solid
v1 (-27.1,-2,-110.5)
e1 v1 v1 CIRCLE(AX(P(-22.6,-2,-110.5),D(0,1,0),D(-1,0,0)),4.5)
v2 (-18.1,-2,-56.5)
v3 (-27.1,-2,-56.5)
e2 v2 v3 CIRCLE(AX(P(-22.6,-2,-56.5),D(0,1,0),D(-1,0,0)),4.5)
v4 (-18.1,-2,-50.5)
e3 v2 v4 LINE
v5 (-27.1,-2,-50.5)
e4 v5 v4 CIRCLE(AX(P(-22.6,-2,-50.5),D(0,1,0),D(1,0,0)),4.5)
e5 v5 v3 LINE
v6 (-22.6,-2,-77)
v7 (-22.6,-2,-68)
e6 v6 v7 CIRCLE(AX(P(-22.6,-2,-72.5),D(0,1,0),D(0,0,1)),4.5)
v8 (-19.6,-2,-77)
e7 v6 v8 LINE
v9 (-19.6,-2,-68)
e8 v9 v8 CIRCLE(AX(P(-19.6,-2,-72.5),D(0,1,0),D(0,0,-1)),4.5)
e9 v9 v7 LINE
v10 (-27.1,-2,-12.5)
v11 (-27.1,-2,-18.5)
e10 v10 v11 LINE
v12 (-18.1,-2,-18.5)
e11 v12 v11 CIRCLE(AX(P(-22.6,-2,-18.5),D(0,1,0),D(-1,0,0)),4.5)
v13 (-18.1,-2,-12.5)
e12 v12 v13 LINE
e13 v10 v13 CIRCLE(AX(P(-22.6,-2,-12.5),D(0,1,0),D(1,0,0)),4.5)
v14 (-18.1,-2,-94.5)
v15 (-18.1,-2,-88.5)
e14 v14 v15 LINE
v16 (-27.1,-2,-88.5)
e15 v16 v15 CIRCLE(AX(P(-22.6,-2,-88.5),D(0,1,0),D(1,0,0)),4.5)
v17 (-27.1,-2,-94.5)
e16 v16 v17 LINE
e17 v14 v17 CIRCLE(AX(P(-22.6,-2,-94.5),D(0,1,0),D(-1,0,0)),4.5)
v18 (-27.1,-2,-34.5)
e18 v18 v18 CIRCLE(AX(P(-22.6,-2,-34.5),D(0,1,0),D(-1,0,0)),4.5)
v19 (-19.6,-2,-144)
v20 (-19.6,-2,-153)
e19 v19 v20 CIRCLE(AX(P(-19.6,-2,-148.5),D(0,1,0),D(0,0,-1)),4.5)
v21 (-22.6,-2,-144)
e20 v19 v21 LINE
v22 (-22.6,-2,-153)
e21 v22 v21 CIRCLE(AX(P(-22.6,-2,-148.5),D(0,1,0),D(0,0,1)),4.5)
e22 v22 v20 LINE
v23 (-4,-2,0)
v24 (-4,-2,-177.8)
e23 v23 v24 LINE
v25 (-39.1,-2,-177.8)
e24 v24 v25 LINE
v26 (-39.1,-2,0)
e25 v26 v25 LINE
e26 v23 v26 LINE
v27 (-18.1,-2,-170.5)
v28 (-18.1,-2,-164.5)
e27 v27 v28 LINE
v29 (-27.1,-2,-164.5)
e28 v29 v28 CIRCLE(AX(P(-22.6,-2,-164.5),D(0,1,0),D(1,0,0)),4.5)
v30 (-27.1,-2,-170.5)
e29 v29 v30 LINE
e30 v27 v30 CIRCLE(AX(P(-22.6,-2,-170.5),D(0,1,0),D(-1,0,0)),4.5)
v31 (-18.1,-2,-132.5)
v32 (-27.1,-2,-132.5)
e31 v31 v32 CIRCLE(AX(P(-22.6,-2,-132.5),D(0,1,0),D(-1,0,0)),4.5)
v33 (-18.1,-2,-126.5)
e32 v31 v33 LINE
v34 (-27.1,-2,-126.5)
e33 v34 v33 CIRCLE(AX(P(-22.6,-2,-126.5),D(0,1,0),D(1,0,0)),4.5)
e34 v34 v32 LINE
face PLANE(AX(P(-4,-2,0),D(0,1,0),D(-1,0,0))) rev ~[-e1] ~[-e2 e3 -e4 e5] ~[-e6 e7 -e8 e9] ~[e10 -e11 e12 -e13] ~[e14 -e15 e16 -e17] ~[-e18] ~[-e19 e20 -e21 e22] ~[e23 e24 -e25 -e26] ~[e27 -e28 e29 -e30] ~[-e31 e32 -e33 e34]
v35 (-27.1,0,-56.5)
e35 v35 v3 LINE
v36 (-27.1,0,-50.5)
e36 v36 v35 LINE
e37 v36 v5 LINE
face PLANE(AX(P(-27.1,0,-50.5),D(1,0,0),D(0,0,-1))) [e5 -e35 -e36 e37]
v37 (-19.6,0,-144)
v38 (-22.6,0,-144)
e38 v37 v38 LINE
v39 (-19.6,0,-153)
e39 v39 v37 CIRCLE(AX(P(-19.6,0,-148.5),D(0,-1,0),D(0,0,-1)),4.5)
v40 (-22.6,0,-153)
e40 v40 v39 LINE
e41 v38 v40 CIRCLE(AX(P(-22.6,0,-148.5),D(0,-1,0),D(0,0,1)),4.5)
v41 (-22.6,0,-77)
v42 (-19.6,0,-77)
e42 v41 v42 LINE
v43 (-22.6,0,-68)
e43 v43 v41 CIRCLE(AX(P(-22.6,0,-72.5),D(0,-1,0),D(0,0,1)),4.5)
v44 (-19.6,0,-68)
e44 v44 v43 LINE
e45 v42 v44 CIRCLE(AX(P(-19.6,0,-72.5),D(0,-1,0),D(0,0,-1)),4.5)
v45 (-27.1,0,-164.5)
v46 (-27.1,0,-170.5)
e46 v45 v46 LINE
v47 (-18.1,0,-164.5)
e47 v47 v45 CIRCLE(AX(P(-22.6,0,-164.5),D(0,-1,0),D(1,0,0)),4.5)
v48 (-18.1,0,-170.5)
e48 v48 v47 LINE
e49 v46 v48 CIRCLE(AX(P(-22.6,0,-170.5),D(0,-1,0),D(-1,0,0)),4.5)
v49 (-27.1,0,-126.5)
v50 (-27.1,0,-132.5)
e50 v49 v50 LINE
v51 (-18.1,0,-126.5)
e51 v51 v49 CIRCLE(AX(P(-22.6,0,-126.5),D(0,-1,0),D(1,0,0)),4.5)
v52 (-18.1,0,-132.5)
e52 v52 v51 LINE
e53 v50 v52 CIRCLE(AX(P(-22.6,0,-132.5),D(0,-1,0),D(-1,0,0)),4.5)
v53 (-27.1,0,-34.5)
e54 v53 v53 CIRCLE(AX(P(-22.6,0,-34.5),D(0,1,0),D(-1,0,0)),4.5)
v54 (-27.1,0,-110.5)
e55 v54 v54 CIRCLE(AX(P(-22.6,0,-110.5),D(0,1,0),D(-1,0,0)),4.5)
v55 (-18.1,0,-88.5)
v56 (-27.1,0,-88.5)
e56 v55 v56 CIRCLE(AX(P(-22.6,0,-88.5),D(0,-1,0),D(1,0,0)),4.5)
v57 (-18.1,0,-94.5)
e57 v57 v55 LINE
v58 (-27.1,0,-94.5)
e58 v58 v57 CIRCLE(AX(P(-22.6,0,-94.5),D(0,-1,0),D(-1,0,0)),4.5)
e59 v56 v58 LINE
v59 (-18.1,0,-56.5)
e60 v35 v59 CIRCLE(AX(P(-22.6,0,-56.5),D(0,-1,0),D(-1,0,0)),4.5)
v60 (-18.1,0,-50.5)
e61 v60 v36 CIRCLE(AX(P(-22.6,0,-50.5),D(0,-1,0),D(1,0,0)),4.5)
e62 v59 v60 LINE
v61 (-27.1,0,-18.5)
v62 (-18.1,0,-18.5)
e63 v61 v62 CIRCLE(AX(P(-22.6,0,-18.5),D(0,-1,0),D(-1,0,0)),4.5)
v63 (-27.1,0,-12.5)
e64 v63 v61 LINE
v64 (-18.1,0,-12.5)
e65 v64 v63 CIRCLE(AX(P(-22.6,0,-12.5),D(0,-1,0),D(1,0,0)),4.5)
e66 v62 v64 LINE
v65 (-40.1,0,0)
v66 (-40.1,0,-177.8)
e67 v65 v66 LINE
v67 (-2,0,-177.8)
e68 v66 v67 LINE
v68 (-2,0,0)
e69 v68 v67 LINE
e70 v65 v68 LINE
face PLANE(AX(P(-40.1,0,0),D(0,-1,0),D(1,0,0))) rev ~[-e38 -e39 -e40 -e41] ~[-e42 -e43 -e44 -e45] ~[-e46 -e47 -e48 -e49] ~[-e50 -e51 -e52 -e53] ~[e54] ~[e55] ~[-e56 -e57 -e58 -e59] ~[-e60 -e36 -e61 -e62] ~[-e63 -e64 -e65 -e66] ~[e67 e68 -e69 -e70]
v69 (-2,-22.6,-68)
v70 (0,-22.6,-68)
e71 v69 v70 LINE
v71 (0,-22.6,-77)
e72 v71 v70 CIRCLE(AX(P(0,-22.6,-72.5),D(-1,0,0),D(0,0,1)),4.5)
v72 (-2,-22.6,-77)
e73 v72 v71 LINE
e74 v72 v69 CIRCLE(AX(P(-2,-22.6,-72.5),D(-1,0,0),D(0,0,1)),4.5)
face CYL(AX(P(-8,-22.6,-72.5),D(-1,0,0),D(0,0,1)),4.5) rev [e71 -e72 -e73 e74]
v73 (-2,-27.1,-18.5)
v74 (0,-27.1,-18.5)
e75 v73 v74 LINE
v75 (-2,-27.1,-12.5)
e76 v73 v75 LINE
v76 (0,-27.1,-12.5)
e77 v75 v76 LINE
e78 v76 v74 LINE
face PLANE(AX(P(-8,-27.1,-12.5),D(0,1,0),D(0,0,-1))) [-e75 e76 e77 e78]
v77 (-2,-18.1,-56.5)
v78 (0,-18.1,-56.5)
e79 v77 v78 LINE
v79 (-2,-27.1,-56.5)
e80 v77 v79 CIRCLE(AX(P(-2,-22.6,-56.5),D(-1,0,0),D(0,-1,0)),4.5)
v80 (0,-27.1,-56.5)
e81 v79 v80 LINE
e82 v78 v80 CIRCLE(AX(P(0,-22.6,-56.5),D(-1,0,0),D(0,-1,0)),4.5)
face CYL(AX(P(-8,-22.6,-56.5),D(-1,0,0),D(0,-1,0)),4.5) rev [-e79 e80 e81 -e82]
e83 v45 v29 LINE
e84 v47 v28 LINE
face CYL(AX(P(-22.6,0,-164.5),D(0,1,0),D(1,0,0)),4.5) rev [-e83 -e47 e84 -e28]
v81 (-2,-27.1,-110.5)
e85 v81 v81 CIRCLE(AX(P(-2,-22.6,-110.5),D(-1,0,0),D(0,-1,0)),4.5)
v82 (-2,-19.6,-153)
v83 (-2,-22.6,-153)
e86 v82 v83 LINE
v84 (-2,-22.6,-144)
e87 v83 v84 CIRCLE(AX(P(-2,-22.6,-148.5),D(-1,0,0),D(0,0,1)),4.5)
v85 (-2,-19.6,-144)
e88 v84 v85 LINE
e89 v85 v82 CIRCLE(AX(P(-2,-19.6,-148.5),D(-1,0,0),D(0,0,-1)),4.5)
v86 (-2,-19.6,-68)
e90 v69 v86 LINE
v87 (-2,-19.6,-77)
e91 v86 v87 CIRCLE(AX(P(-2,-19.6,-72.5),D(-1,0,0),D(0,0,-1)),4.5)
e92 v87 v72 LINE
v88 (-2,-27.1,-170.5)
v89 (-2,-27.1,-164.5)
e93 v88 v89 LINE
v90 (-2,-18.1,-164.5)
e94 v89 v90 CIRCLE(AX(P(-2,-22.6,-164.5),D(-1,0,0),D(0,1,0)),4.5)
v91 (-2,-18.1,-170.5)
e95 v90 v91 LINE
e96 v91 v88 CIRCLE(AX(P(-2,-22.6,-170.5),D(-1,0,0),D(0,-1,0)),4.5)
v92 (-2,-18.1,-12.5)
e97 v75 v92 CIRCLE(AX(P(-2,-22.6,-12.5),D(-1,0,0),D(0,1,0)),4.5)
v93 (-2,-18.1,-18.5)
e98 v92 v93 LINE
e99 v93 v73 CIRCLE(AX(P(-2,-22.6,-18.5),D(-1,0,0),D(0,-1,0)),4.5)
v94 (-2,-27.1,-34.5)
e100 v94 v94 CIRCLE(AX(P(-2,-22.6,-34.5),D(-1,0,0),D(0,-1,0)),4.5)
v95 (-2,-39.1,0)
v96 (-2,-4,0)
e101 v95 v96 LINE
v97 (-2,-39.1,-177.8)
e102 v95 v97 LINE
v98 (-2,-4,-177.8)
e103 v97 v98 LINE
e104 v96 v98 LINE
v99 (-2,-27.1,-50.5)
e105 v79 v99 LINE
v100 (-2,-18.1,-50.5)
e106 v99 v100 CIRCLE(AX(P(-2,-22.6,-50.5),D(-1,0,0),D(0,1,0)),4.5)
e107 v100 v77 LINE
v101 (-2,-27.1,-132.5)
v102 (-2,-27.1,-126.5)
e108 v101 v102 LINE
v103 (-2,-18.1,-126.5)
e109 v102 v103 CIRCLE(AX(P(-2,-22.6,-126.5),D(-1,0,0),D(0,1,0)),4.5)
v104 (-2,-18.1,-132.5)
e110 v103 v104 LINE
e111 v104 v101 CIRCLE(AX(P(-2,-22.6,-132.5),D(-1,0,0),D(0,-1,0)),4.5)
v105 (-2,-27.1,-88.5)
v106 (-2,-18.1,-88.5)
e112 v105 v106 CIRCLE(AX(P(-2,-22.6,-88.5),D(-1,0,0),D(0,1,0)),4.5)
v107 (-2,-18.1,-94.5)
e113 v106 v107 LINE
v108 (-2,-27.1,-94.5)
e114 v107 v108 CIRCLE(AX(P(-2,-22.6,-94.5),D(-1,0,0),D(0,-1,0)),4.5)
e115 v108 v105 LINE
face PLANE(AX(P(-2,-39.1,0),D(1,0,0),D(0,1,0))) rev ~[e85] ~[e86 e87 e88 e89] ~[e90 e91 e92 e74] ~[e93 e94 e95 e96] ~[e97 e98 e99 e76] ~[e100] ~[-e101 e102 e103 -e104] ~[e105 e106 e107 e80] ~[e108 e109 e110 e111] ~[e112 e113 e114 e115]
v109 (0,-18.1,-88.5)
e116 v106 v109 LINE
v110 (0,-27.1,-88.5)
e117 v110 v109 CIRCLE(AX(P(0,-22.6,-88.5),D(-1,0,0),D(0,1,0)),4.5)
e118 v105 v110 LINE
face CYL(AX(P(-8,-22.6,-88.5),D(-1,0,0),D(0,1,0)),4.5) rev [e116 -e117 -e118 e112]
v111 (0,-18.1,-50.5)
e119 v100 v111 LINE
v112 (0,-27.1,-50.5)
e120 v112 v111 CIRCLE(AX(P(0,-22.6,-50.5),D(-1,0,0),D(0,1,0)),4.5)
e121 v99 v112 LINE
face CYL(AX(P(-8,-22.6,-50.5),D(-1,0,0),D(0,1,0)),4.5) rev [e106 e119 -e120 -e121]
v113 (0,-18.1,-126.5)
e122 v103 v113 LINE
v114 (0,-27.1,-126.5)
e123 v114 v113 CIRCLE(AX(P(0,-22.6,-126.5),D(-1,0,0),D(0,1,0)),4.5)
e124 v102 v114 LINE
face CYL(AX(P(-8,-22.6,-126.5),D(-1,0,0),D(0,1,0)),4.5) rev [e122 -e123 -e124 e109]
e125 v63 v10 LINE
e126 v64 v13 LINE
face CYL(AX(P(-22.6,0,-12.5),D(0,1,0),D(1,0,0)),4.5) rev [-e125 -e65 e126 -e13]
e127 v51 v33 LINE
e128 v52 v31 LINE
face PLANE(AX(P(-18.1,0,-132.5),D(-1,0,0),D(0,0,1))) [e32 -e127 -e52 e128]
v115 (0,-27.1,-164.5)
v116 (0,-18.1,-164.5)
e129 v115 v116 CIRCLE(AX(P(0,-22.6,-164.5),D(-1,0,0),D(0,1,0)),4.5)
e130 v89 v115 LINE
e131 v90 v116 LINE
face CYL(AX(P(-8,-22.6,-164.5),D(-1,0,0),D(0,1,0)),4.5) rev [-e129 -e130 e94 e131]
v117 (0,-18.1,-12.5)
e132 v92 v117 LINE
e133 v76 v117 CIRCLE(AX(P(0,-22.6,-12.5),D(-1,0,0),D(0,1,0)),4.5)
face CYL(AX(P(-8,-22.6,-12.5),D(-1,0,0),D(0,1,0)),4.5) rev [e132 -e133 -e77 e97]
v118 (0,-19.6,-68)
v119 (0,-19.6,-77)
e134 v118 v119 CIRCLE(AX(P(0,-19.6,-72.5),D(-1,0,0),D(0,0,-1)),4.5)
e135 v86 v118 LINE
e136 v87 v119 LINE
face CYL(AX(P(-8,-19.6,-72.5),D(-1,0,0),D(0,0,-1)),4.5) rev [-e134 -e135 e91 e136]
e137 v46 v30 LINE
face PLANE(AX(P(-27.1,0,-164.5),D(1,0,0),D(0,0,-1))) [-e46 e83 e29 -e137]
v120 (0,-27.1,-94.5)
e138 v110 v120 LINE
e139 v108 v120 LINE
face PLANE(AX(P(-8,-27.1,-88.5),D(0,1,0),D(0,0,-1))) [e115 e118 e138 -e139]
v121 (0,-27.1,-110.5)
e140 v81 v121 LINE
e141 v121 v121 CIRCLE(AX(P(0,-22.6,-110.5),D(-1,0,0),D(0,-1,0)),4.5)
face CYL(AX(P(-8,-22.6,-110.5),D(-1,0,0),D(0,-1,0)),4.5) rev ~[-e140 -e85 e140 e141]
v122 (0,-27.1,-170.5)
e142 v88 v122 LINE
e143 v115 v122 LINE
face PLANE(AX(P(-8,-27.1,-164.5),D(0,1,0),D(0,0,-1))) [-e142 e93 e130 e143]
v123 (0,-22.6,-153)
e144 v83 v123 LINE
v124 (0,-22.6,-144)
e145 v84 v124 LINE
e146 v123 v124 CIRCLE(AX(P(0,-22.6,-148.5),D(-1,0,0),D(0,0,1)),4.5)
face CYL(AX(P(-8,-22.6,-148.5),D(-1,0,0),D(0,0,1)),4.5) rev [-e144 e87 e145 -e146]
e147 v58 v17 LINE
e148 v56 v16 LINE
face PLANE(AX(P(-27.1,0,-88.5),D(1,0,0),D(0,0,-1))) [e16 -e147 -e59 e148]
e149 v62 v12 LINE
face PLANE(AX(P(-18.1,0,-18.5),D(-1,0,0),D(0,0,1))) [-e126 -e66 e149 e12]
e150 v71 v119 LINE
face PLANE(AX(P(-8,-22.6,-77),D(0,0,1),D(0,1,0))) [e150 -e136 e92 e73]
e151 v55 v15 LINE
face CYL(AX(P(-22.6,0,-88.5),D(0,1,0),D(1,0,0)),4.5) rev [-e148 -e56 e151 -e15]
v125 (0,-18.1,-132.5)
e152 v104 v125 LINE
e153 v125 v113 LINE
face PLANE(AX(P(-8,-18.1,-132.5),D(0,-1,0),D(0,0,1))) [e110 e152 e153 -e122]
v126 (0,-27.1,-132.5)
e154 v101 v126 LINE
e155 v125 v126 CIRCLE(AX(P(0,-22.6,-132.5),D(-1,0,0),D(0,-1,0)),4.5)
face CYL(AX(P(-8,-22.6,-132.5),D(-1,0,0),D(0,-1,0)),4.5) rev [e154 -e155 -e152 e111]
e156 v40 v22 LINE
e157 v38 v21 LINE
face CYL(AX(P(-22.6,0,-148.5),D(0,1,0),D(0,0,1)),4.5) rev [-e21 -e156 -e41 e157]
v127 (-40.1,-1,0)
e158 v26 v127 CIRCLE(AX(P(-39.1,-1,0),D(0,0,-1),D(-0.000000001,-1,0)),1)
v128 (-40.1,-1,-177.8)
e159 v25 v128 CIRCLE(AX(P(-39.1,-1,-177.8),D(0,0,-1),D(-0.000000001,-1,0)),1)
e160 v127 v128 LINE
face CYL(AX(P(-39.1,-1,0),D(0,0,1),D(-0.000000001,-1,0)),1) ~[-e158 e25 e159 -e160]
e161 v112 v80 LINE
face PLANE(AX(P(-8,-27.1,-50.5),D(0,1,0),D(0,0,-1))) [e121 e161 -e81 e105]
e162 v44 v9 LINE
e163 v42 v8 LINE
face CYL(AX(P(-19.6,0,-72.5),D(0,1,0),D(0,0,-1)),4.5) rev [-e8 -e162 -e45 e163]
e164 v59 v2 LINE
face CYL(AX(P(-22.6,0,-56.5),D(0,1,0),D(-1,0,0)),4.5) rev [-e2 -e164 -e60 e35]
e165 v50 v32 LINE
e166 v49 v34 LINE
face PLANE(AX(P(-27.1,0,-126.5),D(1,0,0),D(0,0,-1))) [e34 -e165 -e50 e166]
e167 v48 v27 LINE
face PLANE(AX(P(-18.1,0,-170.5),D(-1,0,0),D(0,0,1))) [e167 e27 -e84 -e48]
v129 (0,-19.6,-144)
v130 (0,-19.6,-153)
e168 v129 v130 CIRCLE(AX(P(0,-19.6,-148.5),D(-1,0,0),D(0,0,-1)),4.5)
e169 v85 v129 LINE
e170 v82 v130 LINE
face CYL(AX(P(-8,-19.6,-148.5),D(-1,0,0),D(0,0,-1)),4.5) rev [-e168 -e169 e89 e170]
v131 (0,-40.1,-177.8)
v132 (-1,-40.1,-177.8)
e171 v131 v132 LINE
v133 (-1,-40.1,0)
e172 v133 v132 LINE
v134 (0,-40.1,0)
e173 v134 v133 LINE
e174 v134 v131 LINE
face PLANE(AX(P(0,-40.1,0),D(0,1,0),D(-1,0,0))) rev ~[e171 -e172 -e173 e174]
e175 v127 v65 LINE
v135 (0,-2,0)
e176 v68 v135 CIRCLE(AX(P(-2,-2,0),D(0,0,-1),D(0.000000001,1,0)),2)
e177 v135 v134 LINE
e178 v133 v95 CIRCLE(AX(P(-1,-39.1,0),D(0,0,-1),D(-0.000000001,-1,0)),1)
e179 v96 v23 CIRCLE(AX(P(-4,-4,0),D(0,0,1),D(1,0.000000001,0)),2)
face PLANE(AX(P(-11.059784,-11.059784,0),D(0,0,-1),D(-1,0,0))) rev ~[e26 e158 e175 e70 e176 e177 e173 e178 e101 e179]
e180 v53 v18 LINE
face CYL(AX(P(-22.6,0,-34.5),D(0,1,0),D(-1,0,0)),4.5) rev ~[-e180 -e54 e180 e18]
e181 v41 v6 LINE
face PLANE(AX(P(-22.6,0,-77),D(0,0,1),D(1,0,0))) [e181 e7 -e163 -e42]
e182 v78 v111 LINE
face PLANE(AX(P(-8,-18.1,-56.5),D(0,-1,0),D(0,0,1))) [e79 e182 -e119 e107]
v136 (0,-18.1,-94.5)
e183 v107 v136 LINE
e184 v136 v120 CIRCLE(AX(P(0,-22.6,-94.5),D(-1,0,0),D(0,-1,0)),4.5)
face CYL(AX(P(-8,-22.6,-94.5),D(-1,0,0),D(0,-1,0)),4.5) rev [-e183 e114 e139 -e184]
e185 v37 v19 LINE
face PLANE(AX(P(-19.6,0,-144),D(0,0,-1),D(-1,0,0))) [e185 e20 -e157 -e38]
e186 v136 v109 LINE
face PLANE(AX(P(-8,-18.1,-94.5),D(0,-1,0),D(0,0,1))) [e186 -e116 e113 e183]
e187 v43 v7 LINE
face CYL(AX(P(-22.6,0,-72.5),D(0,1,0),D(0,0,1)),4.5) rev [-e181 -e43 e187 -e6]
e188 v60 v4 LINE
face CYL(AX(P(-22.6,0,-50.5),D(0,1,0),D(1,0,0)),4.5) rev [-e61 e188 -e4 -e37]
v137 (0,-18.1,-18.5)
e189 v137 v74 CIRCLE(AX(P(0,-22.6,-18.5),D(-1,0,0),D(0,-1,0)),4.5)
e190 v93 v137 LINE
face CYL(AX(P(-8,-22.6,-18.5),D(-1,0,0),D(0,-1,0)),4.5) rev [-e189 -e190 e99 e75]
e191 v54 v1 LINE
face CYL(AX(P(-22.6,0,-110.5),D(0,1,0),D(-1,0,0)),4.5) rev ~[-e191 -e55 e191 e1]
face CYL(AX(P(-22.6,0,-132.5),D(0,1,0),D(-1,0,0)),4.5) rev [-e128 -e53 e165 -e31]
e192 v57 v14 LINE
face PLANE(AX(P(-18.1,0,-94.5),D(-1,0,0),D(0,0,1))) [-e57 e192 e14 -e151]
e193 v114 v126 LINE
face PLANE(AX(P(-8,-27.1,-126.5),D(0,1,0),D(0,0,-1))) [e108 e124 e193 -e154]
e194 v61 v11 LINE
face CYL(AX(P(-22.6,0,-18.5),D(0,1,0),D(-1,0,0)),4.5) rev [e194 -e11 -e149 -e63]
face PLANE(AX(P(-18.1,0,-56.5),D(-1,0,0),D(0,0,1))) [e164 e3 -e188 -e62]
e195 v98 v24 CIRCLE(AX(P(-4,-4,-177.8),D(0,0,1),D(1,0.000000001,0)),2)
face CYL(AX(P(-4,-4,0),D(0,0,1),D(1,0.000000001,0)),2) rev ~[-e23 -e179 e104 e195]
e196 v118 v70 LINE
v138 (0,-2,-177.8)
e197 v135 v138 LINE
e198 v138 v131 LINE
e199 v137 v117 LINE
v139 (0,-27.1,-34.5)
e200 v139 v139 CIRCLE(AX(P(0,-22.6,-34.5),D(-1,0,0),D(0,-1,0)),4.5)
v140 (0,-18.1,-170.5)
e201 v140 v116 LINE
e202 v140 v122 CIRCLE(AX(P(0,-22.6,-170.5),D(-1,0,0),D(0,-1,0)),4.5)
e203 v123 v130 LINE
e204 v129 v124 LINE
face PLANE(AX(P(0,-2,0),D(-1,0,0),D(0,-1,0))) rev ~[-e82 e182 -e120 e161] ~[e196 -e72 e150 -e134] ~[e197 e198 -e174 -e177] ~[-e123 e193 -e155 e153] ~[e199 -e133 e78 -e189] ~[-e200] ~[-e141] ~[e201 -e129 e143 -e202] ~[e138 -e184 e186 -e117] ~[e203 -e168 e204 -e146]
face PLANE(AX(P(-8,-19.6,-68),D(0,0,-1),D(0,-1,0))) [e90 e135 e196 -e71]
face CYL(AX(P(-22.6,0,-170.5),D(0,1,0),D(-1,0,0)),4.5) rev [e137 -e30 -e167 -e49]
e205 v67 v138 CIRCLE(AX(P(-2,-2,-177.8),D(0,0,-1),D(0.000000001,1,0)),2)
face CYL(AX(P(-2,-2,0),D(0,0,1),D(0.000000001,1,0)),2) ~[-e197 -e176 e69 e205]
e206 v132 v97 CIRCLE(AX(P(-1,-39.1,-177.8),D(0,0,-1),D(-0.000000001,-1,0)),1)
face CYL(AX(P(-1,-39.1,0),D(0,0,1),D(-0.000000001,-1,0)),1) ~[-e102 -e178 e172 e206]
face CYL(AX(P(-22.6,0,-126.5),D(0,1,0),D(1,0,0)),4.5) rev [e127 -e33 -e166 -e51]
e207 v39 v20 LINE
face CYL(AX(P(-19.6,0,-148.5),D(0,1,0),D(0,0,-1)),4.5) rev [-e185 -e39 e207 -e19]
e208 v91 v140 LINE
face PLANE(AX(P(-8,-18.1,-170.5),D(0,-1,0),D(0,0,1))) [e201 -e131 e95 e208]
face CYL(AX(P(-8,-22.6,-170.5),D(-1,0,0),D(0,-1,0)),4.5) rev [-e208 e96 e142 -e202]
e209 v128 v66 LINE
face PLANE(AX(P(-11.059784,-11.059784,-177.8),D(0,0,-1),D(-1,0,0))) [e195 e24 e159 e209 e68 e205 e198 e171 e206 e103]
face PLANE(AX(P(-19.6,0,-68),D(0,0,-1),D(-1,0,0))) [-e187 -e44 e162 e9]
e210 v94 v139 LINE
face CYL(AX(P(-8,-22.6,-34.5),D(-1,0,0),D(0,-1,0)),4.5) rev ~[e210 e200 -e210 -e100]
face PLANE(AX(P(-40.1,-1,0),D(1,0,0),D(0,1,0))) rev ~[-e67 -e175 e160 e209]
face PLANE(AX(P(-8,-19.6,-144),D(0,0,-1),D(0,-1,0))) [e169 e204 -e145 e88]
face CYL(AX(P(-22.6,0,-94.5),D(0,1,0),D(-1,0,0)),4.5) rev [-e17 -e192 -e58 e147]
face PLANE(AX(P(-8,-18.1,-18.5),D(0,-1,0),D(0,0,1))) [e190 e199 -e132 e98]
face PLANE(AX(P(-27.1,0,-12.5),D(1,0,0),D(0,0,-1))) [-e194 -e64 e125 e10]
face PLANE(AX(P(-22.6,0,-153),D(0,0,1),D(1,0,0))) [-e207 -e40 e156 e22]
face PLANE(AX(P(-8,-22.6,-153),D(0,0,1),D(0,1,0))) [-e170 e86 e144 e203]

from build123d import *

# Parameters (mm, degrees)
STRUCTURAL_MEMBER1_DEPTH        = 177.8
SLOT_DEPTH                      = 187.62491795
SKETCH4_R                       = 4.5
HOLE_DEPTH                      = 187.62491795
VERT_SLOT_DEPTH                 = 187.62491795
SLOT_PATTERN_COUNT              = 5
SLOT_PATTERN_PITCH              = 38
HOLE_PATTERN_COUNT              = 2
HOLE_PATTERN_PITCH              = 76
LPATTERN1_COUNT                 = 2
LPATTERN1_PITCH                 = 76
OTHER_SIDE_CUTS_COUNT           = 2
OTHER_SIDE_CUTS_ANGLE           = 90
OTHER_SIDE_CUTS_COPY_1_DEPTH    = 187.62491795
OTHER_SIDE_CUTS_COPY_2_DEPTH    = 187.62491795
OTHER_SIDE_CUTS_COPY_3_DEPTH    = 187.62491795
OTHER_SIDE_CUTS_COPY_4_DEPTH    = 187.62491795
OTHER_SIDE_CUTS_COPY_5_SKETCH_R = 4.5
OTHER_SIDE_CUTS_COPY_5_DEPTH    = 187.62491795
OTHER_SIDE_CUTS_COPY_6_DEPTH    = 187.62491795


with BuildPart() as part:
    # Sketch13 → Structural Member1 (new body)
    with BuildSketch(Plane(origin=(0, 0, 0), x_dir=(-1, 0, 0), z_dir=(0, 0, -1))):
        with BuildLine():
            Line((40.1, 0), (2, 0))
            ThreePointArc((2, 0), (0.585786438, -0.585786438), (0, -2))
            Line((0, -2), (0, -40.1))
            Line((0, -40.1), (1, -40.1))
            ThreePointArc((1, -40.1), (1.707106781, -39.807106781), (2, -39.1))
            Line((2, -39.1), (2, -4))
            ThreePointArc((2, -4), (2.585786438, -2.585786438), (4, -2))
            Line((4, -2), (39.1, -2))
            ThreePointArc((39.1, -2), (39.807106781, -1.707106781), (40.1, -1))
            Line((40.1, -1), (40.1, 0))
        make_face()
    extrude(amount=STRUCTURAL_MEMBER1_DEPTH)

    # Sketch3 → Slot (cut, through all)
    with BuildSketch(Plane(origin=(0, 0, 0), x_dir=(1, 0, 0), z_dir=(0, 1, 0))):
        with BuildLine():
            Line((-27.1, 12.5), (-27.1, 18.5))
            ThreePointArc((-27.1, 18.5), (-22.6, 23), (-18.1, 18.5))
            Line((-18.1, 18.5), (-18.1, 12.5))
            ThreePointArc((-18.1, 12.5), (-22.6, 8), (-27.1, 12.5))
        make_face()
    slot = extrude(amount=-SLOT_DEPTH, mode=Mode.SUBTRACT)

    # Sketch4 → Hole (cut, through all)
    with BuildSketch(Plane(origin=(0, 0, 0), x_dir=(1, 0, 0), z_dir=(0, 1, 0))):
        with Locations(Location((-22.6, 34.5, 0), (0, 0, 180))):
            Circle(SKETCH4_R)
    hole = extrude(amount=-HOLE_DEPTH, mode=Mode.SUBTRACT)

    # Sketch14 → Vert Slot (cut, through all)
    with BuildSketch(Plane(origin=(0, 0, 0), x_dir=(1, 0, 0), z_dir=(0, 1, 0))):
        with BuildLine():
            Line((-19.6, 68), (-22.6, 68))
            ThreePointArc((-22.6, 68), (-27.1, 72.5), (-22.6, 77))
            Line((-22.6, 77), (-19.6, 77))
            ThreePointArc((-19.6, 77), (-15.1, 72.5), (-19.6, 68))
        make_face()
    vert_slot = extrude(amount=-VERT_SLOT_DEPTH, mode=Mode.SUBTRACT)

    # Slot Pattern: Slot ×5
    with Locations(*[(0, 0, -i * SLOT_PATTERN_PITCH) for i in range(1, SLOT_PATTERN_COUNT)]):
        add(slot, mode=Mode.SUBTRACT)

    # Hole Pattern: Hole ×2
    with Locations(*[(0, 0, -i * HOLE_PATTERN_PITCH) for i in range(1, HOLE_PATTERN_COUNT)]):
        add(hole, mode=Mode.SUBTRACT)

    # LPattern1: Vert Slot ×2
    with Locations(*[(0, 0, -i * LPATTERN1_PITCH) for i in range(1, LPATTERN1_COUNT)]):
        add(vert_slot, mode=Mode.SUBTRACT)

    # Other side cuts: Slot, Hole, Vert Slot ×2 about axis
    other_side_cuts_axis = Axis((-4, -4, 0), (0, 0, 1))
    add([slot.rotate(other_side_cuts_axis, i * OTHER_SIDE_CUTS_ANGLE / (OTHER_SIDE_CUTS_COUNT - 1)) for i in range(1, OTHER_SIDE_CUTS_COUNT)], mode=Mode.SUBTRACT)
    add([hole.rotate(other_side_cuts_axis, i * OTHER_SIDE_CUTS_ANGLE / (OTHER_SIDE_CUTS_COUNT - 1)) for i in range(1, OTHER_SIDE_CUTS_COUNT)], mode=Mode.SUBTRACT)
    add([vert_slot.rotate(other_side_cuts_axis, i * OTHER_SIDE_CUTS_ANGLE / (OTHER_SIDE_CUTS_COUNT - 1)) for i in range(1, OTHER_SIDE_CUTS_COUNT)], mode=Mode.SUBTRACT)

    # Other side cuts copy 1 sketch → Other side cuts copy 1 (cut, through all)
    with BuildSketch(Plane(origin=(-8, 0, -38), x_dir=(0, 1, 0), z_dir=(-1, 0, 0))):
        with BuildLine():
            Line((-27.1, 12.5), (-27.1, 18.5))
            ThreePointArc((-27.1, 18.5), (-22.6, 23), (-18.1, 18.5))
            Line((-18.1, 18.5), (-18.1, 12.5))
            ThreePointArc((-18.1, 12.5), (-22.6, 8), (-27.1, 12.5))
        make_face()
    extrude(amount=-OTHER_SIDE_CUTS_COPY_1_DEPTH, mode=Mode.SUBTRACT)

    # Other side cuts copy 2 sketch → Other side cuts copy 2 (cut, through all)
    with BuildSketch(Plane(origin=(-8, 0, -76), x_dir=(0, 1, 0), z_dir=(-1, 0, 0))):
        with BuildLine():
            Line((-27.1, 12.5), (-27.1, 18.5))
            ThreePointArc((-27.1, 18.5), (-22.6, 23), (-18.1, 18.5))
            Line((-18.1, 18.5), (-18.1, 12.5))
            ThreePointArc((-18.1, 12.5), (-22.6, 8), (-27.1, 12.5))
        make_face()
    extrude(amount=-OTHER_SIDE_CUTS_COPY_2_DEPTH, mode=Mode.SUBTRACT)

    # Other side cuts copy 3 sketch → Other side cuts copy 3 (cut, through all)
    with BuildSketch(Plane(origin=(-8, 0, -114), x_dir=(0, 1, 0), z_dir=(-1, 0, 0))):
        with BuildLine():
            Line((-27.1, 12.5), (-27.1, 18.5))
            ThreePointArc((-27.1, 18.5), (-22.6, 23), (-18.1, 18.5))
            Line((-18.1, 18.5), (-18.1, 12.5))
            ThreePointArc((-18.1, 12.5), (-22.6, 8), (-27.1, 12.5))
        make_face()
    extrude(amount=-OTHER_SIDE_CUTS_COPY_3_DEPTH, mode=Mode.SUBTRACT)

    # Other side cuts copy 4 sketch → Other side cuts copy 4 (cut, through all)
    with BuildSketch(Plane(origin=(-8, 0, -152), x_dir=(0, 1, 0), z_dir=(-1, 0, 0))):
        with BuildLine():
            Line((-27.1, 12.5), (-27.1, 18.5))
            ThreePointArc((-27.1, 18.5), (-22.6, 23), (-18.1, 18.5))
            Line((-18.1, 18.5), (-18.1, 12.5))
            ThreePointArc((-18.1, 12.5), (-22.6, 8), (-27.1, 12.5))
        make_face()
    extrude(amount=-OTHER_SIDE_CUTS_COPY_4_DEPTH, mode=Mode.SUBTRACT)

    # Other side cuts copy 5 sketch → Other side cuts copy 5 (cut, through all)
    with BuildSketch(Plane(origin=(-8, 0, -76), x_dir=(0, 1, 0), z_dir=(-1, 0, 0))):
        with Locations(Location((-22.6, 34.5, 0), (0, 0, 180))):
            Circle(OTHER_SIDE_CUTS_COPY_5_SKETCH_R)
    extrude(amount=-OTHER_SIDE_CUTS_COPY_5_DEPTH, mode=Mode.SUBTRACT)

    # Other side cuts copy 6 sketch → Other side cuts copy 6 (cut, through all)
    with BuildSketch(Plane(origin=(-8, 0, -76), x_dir=(0, 1, 0), z_dir=(-1, 0, 0))):
        with BuildLine():
            Line((-19.6, 68), (-22.6, 68))
            ThreePointArc((-22.6, 68), (-27.1, 72.5), (-22.6, 77))
            Line((-22.6, 77), (-19.6, 77))
            ThreePointArc((-19.6, 77), (-15.1, 72.5), (-19.6, 68))
        make_face()
    extrude(amount=-OTHER_SIDE_CUTS_COPY_6_DEPTH, mode=Mode.SUBTRACT)


solid = part.part
